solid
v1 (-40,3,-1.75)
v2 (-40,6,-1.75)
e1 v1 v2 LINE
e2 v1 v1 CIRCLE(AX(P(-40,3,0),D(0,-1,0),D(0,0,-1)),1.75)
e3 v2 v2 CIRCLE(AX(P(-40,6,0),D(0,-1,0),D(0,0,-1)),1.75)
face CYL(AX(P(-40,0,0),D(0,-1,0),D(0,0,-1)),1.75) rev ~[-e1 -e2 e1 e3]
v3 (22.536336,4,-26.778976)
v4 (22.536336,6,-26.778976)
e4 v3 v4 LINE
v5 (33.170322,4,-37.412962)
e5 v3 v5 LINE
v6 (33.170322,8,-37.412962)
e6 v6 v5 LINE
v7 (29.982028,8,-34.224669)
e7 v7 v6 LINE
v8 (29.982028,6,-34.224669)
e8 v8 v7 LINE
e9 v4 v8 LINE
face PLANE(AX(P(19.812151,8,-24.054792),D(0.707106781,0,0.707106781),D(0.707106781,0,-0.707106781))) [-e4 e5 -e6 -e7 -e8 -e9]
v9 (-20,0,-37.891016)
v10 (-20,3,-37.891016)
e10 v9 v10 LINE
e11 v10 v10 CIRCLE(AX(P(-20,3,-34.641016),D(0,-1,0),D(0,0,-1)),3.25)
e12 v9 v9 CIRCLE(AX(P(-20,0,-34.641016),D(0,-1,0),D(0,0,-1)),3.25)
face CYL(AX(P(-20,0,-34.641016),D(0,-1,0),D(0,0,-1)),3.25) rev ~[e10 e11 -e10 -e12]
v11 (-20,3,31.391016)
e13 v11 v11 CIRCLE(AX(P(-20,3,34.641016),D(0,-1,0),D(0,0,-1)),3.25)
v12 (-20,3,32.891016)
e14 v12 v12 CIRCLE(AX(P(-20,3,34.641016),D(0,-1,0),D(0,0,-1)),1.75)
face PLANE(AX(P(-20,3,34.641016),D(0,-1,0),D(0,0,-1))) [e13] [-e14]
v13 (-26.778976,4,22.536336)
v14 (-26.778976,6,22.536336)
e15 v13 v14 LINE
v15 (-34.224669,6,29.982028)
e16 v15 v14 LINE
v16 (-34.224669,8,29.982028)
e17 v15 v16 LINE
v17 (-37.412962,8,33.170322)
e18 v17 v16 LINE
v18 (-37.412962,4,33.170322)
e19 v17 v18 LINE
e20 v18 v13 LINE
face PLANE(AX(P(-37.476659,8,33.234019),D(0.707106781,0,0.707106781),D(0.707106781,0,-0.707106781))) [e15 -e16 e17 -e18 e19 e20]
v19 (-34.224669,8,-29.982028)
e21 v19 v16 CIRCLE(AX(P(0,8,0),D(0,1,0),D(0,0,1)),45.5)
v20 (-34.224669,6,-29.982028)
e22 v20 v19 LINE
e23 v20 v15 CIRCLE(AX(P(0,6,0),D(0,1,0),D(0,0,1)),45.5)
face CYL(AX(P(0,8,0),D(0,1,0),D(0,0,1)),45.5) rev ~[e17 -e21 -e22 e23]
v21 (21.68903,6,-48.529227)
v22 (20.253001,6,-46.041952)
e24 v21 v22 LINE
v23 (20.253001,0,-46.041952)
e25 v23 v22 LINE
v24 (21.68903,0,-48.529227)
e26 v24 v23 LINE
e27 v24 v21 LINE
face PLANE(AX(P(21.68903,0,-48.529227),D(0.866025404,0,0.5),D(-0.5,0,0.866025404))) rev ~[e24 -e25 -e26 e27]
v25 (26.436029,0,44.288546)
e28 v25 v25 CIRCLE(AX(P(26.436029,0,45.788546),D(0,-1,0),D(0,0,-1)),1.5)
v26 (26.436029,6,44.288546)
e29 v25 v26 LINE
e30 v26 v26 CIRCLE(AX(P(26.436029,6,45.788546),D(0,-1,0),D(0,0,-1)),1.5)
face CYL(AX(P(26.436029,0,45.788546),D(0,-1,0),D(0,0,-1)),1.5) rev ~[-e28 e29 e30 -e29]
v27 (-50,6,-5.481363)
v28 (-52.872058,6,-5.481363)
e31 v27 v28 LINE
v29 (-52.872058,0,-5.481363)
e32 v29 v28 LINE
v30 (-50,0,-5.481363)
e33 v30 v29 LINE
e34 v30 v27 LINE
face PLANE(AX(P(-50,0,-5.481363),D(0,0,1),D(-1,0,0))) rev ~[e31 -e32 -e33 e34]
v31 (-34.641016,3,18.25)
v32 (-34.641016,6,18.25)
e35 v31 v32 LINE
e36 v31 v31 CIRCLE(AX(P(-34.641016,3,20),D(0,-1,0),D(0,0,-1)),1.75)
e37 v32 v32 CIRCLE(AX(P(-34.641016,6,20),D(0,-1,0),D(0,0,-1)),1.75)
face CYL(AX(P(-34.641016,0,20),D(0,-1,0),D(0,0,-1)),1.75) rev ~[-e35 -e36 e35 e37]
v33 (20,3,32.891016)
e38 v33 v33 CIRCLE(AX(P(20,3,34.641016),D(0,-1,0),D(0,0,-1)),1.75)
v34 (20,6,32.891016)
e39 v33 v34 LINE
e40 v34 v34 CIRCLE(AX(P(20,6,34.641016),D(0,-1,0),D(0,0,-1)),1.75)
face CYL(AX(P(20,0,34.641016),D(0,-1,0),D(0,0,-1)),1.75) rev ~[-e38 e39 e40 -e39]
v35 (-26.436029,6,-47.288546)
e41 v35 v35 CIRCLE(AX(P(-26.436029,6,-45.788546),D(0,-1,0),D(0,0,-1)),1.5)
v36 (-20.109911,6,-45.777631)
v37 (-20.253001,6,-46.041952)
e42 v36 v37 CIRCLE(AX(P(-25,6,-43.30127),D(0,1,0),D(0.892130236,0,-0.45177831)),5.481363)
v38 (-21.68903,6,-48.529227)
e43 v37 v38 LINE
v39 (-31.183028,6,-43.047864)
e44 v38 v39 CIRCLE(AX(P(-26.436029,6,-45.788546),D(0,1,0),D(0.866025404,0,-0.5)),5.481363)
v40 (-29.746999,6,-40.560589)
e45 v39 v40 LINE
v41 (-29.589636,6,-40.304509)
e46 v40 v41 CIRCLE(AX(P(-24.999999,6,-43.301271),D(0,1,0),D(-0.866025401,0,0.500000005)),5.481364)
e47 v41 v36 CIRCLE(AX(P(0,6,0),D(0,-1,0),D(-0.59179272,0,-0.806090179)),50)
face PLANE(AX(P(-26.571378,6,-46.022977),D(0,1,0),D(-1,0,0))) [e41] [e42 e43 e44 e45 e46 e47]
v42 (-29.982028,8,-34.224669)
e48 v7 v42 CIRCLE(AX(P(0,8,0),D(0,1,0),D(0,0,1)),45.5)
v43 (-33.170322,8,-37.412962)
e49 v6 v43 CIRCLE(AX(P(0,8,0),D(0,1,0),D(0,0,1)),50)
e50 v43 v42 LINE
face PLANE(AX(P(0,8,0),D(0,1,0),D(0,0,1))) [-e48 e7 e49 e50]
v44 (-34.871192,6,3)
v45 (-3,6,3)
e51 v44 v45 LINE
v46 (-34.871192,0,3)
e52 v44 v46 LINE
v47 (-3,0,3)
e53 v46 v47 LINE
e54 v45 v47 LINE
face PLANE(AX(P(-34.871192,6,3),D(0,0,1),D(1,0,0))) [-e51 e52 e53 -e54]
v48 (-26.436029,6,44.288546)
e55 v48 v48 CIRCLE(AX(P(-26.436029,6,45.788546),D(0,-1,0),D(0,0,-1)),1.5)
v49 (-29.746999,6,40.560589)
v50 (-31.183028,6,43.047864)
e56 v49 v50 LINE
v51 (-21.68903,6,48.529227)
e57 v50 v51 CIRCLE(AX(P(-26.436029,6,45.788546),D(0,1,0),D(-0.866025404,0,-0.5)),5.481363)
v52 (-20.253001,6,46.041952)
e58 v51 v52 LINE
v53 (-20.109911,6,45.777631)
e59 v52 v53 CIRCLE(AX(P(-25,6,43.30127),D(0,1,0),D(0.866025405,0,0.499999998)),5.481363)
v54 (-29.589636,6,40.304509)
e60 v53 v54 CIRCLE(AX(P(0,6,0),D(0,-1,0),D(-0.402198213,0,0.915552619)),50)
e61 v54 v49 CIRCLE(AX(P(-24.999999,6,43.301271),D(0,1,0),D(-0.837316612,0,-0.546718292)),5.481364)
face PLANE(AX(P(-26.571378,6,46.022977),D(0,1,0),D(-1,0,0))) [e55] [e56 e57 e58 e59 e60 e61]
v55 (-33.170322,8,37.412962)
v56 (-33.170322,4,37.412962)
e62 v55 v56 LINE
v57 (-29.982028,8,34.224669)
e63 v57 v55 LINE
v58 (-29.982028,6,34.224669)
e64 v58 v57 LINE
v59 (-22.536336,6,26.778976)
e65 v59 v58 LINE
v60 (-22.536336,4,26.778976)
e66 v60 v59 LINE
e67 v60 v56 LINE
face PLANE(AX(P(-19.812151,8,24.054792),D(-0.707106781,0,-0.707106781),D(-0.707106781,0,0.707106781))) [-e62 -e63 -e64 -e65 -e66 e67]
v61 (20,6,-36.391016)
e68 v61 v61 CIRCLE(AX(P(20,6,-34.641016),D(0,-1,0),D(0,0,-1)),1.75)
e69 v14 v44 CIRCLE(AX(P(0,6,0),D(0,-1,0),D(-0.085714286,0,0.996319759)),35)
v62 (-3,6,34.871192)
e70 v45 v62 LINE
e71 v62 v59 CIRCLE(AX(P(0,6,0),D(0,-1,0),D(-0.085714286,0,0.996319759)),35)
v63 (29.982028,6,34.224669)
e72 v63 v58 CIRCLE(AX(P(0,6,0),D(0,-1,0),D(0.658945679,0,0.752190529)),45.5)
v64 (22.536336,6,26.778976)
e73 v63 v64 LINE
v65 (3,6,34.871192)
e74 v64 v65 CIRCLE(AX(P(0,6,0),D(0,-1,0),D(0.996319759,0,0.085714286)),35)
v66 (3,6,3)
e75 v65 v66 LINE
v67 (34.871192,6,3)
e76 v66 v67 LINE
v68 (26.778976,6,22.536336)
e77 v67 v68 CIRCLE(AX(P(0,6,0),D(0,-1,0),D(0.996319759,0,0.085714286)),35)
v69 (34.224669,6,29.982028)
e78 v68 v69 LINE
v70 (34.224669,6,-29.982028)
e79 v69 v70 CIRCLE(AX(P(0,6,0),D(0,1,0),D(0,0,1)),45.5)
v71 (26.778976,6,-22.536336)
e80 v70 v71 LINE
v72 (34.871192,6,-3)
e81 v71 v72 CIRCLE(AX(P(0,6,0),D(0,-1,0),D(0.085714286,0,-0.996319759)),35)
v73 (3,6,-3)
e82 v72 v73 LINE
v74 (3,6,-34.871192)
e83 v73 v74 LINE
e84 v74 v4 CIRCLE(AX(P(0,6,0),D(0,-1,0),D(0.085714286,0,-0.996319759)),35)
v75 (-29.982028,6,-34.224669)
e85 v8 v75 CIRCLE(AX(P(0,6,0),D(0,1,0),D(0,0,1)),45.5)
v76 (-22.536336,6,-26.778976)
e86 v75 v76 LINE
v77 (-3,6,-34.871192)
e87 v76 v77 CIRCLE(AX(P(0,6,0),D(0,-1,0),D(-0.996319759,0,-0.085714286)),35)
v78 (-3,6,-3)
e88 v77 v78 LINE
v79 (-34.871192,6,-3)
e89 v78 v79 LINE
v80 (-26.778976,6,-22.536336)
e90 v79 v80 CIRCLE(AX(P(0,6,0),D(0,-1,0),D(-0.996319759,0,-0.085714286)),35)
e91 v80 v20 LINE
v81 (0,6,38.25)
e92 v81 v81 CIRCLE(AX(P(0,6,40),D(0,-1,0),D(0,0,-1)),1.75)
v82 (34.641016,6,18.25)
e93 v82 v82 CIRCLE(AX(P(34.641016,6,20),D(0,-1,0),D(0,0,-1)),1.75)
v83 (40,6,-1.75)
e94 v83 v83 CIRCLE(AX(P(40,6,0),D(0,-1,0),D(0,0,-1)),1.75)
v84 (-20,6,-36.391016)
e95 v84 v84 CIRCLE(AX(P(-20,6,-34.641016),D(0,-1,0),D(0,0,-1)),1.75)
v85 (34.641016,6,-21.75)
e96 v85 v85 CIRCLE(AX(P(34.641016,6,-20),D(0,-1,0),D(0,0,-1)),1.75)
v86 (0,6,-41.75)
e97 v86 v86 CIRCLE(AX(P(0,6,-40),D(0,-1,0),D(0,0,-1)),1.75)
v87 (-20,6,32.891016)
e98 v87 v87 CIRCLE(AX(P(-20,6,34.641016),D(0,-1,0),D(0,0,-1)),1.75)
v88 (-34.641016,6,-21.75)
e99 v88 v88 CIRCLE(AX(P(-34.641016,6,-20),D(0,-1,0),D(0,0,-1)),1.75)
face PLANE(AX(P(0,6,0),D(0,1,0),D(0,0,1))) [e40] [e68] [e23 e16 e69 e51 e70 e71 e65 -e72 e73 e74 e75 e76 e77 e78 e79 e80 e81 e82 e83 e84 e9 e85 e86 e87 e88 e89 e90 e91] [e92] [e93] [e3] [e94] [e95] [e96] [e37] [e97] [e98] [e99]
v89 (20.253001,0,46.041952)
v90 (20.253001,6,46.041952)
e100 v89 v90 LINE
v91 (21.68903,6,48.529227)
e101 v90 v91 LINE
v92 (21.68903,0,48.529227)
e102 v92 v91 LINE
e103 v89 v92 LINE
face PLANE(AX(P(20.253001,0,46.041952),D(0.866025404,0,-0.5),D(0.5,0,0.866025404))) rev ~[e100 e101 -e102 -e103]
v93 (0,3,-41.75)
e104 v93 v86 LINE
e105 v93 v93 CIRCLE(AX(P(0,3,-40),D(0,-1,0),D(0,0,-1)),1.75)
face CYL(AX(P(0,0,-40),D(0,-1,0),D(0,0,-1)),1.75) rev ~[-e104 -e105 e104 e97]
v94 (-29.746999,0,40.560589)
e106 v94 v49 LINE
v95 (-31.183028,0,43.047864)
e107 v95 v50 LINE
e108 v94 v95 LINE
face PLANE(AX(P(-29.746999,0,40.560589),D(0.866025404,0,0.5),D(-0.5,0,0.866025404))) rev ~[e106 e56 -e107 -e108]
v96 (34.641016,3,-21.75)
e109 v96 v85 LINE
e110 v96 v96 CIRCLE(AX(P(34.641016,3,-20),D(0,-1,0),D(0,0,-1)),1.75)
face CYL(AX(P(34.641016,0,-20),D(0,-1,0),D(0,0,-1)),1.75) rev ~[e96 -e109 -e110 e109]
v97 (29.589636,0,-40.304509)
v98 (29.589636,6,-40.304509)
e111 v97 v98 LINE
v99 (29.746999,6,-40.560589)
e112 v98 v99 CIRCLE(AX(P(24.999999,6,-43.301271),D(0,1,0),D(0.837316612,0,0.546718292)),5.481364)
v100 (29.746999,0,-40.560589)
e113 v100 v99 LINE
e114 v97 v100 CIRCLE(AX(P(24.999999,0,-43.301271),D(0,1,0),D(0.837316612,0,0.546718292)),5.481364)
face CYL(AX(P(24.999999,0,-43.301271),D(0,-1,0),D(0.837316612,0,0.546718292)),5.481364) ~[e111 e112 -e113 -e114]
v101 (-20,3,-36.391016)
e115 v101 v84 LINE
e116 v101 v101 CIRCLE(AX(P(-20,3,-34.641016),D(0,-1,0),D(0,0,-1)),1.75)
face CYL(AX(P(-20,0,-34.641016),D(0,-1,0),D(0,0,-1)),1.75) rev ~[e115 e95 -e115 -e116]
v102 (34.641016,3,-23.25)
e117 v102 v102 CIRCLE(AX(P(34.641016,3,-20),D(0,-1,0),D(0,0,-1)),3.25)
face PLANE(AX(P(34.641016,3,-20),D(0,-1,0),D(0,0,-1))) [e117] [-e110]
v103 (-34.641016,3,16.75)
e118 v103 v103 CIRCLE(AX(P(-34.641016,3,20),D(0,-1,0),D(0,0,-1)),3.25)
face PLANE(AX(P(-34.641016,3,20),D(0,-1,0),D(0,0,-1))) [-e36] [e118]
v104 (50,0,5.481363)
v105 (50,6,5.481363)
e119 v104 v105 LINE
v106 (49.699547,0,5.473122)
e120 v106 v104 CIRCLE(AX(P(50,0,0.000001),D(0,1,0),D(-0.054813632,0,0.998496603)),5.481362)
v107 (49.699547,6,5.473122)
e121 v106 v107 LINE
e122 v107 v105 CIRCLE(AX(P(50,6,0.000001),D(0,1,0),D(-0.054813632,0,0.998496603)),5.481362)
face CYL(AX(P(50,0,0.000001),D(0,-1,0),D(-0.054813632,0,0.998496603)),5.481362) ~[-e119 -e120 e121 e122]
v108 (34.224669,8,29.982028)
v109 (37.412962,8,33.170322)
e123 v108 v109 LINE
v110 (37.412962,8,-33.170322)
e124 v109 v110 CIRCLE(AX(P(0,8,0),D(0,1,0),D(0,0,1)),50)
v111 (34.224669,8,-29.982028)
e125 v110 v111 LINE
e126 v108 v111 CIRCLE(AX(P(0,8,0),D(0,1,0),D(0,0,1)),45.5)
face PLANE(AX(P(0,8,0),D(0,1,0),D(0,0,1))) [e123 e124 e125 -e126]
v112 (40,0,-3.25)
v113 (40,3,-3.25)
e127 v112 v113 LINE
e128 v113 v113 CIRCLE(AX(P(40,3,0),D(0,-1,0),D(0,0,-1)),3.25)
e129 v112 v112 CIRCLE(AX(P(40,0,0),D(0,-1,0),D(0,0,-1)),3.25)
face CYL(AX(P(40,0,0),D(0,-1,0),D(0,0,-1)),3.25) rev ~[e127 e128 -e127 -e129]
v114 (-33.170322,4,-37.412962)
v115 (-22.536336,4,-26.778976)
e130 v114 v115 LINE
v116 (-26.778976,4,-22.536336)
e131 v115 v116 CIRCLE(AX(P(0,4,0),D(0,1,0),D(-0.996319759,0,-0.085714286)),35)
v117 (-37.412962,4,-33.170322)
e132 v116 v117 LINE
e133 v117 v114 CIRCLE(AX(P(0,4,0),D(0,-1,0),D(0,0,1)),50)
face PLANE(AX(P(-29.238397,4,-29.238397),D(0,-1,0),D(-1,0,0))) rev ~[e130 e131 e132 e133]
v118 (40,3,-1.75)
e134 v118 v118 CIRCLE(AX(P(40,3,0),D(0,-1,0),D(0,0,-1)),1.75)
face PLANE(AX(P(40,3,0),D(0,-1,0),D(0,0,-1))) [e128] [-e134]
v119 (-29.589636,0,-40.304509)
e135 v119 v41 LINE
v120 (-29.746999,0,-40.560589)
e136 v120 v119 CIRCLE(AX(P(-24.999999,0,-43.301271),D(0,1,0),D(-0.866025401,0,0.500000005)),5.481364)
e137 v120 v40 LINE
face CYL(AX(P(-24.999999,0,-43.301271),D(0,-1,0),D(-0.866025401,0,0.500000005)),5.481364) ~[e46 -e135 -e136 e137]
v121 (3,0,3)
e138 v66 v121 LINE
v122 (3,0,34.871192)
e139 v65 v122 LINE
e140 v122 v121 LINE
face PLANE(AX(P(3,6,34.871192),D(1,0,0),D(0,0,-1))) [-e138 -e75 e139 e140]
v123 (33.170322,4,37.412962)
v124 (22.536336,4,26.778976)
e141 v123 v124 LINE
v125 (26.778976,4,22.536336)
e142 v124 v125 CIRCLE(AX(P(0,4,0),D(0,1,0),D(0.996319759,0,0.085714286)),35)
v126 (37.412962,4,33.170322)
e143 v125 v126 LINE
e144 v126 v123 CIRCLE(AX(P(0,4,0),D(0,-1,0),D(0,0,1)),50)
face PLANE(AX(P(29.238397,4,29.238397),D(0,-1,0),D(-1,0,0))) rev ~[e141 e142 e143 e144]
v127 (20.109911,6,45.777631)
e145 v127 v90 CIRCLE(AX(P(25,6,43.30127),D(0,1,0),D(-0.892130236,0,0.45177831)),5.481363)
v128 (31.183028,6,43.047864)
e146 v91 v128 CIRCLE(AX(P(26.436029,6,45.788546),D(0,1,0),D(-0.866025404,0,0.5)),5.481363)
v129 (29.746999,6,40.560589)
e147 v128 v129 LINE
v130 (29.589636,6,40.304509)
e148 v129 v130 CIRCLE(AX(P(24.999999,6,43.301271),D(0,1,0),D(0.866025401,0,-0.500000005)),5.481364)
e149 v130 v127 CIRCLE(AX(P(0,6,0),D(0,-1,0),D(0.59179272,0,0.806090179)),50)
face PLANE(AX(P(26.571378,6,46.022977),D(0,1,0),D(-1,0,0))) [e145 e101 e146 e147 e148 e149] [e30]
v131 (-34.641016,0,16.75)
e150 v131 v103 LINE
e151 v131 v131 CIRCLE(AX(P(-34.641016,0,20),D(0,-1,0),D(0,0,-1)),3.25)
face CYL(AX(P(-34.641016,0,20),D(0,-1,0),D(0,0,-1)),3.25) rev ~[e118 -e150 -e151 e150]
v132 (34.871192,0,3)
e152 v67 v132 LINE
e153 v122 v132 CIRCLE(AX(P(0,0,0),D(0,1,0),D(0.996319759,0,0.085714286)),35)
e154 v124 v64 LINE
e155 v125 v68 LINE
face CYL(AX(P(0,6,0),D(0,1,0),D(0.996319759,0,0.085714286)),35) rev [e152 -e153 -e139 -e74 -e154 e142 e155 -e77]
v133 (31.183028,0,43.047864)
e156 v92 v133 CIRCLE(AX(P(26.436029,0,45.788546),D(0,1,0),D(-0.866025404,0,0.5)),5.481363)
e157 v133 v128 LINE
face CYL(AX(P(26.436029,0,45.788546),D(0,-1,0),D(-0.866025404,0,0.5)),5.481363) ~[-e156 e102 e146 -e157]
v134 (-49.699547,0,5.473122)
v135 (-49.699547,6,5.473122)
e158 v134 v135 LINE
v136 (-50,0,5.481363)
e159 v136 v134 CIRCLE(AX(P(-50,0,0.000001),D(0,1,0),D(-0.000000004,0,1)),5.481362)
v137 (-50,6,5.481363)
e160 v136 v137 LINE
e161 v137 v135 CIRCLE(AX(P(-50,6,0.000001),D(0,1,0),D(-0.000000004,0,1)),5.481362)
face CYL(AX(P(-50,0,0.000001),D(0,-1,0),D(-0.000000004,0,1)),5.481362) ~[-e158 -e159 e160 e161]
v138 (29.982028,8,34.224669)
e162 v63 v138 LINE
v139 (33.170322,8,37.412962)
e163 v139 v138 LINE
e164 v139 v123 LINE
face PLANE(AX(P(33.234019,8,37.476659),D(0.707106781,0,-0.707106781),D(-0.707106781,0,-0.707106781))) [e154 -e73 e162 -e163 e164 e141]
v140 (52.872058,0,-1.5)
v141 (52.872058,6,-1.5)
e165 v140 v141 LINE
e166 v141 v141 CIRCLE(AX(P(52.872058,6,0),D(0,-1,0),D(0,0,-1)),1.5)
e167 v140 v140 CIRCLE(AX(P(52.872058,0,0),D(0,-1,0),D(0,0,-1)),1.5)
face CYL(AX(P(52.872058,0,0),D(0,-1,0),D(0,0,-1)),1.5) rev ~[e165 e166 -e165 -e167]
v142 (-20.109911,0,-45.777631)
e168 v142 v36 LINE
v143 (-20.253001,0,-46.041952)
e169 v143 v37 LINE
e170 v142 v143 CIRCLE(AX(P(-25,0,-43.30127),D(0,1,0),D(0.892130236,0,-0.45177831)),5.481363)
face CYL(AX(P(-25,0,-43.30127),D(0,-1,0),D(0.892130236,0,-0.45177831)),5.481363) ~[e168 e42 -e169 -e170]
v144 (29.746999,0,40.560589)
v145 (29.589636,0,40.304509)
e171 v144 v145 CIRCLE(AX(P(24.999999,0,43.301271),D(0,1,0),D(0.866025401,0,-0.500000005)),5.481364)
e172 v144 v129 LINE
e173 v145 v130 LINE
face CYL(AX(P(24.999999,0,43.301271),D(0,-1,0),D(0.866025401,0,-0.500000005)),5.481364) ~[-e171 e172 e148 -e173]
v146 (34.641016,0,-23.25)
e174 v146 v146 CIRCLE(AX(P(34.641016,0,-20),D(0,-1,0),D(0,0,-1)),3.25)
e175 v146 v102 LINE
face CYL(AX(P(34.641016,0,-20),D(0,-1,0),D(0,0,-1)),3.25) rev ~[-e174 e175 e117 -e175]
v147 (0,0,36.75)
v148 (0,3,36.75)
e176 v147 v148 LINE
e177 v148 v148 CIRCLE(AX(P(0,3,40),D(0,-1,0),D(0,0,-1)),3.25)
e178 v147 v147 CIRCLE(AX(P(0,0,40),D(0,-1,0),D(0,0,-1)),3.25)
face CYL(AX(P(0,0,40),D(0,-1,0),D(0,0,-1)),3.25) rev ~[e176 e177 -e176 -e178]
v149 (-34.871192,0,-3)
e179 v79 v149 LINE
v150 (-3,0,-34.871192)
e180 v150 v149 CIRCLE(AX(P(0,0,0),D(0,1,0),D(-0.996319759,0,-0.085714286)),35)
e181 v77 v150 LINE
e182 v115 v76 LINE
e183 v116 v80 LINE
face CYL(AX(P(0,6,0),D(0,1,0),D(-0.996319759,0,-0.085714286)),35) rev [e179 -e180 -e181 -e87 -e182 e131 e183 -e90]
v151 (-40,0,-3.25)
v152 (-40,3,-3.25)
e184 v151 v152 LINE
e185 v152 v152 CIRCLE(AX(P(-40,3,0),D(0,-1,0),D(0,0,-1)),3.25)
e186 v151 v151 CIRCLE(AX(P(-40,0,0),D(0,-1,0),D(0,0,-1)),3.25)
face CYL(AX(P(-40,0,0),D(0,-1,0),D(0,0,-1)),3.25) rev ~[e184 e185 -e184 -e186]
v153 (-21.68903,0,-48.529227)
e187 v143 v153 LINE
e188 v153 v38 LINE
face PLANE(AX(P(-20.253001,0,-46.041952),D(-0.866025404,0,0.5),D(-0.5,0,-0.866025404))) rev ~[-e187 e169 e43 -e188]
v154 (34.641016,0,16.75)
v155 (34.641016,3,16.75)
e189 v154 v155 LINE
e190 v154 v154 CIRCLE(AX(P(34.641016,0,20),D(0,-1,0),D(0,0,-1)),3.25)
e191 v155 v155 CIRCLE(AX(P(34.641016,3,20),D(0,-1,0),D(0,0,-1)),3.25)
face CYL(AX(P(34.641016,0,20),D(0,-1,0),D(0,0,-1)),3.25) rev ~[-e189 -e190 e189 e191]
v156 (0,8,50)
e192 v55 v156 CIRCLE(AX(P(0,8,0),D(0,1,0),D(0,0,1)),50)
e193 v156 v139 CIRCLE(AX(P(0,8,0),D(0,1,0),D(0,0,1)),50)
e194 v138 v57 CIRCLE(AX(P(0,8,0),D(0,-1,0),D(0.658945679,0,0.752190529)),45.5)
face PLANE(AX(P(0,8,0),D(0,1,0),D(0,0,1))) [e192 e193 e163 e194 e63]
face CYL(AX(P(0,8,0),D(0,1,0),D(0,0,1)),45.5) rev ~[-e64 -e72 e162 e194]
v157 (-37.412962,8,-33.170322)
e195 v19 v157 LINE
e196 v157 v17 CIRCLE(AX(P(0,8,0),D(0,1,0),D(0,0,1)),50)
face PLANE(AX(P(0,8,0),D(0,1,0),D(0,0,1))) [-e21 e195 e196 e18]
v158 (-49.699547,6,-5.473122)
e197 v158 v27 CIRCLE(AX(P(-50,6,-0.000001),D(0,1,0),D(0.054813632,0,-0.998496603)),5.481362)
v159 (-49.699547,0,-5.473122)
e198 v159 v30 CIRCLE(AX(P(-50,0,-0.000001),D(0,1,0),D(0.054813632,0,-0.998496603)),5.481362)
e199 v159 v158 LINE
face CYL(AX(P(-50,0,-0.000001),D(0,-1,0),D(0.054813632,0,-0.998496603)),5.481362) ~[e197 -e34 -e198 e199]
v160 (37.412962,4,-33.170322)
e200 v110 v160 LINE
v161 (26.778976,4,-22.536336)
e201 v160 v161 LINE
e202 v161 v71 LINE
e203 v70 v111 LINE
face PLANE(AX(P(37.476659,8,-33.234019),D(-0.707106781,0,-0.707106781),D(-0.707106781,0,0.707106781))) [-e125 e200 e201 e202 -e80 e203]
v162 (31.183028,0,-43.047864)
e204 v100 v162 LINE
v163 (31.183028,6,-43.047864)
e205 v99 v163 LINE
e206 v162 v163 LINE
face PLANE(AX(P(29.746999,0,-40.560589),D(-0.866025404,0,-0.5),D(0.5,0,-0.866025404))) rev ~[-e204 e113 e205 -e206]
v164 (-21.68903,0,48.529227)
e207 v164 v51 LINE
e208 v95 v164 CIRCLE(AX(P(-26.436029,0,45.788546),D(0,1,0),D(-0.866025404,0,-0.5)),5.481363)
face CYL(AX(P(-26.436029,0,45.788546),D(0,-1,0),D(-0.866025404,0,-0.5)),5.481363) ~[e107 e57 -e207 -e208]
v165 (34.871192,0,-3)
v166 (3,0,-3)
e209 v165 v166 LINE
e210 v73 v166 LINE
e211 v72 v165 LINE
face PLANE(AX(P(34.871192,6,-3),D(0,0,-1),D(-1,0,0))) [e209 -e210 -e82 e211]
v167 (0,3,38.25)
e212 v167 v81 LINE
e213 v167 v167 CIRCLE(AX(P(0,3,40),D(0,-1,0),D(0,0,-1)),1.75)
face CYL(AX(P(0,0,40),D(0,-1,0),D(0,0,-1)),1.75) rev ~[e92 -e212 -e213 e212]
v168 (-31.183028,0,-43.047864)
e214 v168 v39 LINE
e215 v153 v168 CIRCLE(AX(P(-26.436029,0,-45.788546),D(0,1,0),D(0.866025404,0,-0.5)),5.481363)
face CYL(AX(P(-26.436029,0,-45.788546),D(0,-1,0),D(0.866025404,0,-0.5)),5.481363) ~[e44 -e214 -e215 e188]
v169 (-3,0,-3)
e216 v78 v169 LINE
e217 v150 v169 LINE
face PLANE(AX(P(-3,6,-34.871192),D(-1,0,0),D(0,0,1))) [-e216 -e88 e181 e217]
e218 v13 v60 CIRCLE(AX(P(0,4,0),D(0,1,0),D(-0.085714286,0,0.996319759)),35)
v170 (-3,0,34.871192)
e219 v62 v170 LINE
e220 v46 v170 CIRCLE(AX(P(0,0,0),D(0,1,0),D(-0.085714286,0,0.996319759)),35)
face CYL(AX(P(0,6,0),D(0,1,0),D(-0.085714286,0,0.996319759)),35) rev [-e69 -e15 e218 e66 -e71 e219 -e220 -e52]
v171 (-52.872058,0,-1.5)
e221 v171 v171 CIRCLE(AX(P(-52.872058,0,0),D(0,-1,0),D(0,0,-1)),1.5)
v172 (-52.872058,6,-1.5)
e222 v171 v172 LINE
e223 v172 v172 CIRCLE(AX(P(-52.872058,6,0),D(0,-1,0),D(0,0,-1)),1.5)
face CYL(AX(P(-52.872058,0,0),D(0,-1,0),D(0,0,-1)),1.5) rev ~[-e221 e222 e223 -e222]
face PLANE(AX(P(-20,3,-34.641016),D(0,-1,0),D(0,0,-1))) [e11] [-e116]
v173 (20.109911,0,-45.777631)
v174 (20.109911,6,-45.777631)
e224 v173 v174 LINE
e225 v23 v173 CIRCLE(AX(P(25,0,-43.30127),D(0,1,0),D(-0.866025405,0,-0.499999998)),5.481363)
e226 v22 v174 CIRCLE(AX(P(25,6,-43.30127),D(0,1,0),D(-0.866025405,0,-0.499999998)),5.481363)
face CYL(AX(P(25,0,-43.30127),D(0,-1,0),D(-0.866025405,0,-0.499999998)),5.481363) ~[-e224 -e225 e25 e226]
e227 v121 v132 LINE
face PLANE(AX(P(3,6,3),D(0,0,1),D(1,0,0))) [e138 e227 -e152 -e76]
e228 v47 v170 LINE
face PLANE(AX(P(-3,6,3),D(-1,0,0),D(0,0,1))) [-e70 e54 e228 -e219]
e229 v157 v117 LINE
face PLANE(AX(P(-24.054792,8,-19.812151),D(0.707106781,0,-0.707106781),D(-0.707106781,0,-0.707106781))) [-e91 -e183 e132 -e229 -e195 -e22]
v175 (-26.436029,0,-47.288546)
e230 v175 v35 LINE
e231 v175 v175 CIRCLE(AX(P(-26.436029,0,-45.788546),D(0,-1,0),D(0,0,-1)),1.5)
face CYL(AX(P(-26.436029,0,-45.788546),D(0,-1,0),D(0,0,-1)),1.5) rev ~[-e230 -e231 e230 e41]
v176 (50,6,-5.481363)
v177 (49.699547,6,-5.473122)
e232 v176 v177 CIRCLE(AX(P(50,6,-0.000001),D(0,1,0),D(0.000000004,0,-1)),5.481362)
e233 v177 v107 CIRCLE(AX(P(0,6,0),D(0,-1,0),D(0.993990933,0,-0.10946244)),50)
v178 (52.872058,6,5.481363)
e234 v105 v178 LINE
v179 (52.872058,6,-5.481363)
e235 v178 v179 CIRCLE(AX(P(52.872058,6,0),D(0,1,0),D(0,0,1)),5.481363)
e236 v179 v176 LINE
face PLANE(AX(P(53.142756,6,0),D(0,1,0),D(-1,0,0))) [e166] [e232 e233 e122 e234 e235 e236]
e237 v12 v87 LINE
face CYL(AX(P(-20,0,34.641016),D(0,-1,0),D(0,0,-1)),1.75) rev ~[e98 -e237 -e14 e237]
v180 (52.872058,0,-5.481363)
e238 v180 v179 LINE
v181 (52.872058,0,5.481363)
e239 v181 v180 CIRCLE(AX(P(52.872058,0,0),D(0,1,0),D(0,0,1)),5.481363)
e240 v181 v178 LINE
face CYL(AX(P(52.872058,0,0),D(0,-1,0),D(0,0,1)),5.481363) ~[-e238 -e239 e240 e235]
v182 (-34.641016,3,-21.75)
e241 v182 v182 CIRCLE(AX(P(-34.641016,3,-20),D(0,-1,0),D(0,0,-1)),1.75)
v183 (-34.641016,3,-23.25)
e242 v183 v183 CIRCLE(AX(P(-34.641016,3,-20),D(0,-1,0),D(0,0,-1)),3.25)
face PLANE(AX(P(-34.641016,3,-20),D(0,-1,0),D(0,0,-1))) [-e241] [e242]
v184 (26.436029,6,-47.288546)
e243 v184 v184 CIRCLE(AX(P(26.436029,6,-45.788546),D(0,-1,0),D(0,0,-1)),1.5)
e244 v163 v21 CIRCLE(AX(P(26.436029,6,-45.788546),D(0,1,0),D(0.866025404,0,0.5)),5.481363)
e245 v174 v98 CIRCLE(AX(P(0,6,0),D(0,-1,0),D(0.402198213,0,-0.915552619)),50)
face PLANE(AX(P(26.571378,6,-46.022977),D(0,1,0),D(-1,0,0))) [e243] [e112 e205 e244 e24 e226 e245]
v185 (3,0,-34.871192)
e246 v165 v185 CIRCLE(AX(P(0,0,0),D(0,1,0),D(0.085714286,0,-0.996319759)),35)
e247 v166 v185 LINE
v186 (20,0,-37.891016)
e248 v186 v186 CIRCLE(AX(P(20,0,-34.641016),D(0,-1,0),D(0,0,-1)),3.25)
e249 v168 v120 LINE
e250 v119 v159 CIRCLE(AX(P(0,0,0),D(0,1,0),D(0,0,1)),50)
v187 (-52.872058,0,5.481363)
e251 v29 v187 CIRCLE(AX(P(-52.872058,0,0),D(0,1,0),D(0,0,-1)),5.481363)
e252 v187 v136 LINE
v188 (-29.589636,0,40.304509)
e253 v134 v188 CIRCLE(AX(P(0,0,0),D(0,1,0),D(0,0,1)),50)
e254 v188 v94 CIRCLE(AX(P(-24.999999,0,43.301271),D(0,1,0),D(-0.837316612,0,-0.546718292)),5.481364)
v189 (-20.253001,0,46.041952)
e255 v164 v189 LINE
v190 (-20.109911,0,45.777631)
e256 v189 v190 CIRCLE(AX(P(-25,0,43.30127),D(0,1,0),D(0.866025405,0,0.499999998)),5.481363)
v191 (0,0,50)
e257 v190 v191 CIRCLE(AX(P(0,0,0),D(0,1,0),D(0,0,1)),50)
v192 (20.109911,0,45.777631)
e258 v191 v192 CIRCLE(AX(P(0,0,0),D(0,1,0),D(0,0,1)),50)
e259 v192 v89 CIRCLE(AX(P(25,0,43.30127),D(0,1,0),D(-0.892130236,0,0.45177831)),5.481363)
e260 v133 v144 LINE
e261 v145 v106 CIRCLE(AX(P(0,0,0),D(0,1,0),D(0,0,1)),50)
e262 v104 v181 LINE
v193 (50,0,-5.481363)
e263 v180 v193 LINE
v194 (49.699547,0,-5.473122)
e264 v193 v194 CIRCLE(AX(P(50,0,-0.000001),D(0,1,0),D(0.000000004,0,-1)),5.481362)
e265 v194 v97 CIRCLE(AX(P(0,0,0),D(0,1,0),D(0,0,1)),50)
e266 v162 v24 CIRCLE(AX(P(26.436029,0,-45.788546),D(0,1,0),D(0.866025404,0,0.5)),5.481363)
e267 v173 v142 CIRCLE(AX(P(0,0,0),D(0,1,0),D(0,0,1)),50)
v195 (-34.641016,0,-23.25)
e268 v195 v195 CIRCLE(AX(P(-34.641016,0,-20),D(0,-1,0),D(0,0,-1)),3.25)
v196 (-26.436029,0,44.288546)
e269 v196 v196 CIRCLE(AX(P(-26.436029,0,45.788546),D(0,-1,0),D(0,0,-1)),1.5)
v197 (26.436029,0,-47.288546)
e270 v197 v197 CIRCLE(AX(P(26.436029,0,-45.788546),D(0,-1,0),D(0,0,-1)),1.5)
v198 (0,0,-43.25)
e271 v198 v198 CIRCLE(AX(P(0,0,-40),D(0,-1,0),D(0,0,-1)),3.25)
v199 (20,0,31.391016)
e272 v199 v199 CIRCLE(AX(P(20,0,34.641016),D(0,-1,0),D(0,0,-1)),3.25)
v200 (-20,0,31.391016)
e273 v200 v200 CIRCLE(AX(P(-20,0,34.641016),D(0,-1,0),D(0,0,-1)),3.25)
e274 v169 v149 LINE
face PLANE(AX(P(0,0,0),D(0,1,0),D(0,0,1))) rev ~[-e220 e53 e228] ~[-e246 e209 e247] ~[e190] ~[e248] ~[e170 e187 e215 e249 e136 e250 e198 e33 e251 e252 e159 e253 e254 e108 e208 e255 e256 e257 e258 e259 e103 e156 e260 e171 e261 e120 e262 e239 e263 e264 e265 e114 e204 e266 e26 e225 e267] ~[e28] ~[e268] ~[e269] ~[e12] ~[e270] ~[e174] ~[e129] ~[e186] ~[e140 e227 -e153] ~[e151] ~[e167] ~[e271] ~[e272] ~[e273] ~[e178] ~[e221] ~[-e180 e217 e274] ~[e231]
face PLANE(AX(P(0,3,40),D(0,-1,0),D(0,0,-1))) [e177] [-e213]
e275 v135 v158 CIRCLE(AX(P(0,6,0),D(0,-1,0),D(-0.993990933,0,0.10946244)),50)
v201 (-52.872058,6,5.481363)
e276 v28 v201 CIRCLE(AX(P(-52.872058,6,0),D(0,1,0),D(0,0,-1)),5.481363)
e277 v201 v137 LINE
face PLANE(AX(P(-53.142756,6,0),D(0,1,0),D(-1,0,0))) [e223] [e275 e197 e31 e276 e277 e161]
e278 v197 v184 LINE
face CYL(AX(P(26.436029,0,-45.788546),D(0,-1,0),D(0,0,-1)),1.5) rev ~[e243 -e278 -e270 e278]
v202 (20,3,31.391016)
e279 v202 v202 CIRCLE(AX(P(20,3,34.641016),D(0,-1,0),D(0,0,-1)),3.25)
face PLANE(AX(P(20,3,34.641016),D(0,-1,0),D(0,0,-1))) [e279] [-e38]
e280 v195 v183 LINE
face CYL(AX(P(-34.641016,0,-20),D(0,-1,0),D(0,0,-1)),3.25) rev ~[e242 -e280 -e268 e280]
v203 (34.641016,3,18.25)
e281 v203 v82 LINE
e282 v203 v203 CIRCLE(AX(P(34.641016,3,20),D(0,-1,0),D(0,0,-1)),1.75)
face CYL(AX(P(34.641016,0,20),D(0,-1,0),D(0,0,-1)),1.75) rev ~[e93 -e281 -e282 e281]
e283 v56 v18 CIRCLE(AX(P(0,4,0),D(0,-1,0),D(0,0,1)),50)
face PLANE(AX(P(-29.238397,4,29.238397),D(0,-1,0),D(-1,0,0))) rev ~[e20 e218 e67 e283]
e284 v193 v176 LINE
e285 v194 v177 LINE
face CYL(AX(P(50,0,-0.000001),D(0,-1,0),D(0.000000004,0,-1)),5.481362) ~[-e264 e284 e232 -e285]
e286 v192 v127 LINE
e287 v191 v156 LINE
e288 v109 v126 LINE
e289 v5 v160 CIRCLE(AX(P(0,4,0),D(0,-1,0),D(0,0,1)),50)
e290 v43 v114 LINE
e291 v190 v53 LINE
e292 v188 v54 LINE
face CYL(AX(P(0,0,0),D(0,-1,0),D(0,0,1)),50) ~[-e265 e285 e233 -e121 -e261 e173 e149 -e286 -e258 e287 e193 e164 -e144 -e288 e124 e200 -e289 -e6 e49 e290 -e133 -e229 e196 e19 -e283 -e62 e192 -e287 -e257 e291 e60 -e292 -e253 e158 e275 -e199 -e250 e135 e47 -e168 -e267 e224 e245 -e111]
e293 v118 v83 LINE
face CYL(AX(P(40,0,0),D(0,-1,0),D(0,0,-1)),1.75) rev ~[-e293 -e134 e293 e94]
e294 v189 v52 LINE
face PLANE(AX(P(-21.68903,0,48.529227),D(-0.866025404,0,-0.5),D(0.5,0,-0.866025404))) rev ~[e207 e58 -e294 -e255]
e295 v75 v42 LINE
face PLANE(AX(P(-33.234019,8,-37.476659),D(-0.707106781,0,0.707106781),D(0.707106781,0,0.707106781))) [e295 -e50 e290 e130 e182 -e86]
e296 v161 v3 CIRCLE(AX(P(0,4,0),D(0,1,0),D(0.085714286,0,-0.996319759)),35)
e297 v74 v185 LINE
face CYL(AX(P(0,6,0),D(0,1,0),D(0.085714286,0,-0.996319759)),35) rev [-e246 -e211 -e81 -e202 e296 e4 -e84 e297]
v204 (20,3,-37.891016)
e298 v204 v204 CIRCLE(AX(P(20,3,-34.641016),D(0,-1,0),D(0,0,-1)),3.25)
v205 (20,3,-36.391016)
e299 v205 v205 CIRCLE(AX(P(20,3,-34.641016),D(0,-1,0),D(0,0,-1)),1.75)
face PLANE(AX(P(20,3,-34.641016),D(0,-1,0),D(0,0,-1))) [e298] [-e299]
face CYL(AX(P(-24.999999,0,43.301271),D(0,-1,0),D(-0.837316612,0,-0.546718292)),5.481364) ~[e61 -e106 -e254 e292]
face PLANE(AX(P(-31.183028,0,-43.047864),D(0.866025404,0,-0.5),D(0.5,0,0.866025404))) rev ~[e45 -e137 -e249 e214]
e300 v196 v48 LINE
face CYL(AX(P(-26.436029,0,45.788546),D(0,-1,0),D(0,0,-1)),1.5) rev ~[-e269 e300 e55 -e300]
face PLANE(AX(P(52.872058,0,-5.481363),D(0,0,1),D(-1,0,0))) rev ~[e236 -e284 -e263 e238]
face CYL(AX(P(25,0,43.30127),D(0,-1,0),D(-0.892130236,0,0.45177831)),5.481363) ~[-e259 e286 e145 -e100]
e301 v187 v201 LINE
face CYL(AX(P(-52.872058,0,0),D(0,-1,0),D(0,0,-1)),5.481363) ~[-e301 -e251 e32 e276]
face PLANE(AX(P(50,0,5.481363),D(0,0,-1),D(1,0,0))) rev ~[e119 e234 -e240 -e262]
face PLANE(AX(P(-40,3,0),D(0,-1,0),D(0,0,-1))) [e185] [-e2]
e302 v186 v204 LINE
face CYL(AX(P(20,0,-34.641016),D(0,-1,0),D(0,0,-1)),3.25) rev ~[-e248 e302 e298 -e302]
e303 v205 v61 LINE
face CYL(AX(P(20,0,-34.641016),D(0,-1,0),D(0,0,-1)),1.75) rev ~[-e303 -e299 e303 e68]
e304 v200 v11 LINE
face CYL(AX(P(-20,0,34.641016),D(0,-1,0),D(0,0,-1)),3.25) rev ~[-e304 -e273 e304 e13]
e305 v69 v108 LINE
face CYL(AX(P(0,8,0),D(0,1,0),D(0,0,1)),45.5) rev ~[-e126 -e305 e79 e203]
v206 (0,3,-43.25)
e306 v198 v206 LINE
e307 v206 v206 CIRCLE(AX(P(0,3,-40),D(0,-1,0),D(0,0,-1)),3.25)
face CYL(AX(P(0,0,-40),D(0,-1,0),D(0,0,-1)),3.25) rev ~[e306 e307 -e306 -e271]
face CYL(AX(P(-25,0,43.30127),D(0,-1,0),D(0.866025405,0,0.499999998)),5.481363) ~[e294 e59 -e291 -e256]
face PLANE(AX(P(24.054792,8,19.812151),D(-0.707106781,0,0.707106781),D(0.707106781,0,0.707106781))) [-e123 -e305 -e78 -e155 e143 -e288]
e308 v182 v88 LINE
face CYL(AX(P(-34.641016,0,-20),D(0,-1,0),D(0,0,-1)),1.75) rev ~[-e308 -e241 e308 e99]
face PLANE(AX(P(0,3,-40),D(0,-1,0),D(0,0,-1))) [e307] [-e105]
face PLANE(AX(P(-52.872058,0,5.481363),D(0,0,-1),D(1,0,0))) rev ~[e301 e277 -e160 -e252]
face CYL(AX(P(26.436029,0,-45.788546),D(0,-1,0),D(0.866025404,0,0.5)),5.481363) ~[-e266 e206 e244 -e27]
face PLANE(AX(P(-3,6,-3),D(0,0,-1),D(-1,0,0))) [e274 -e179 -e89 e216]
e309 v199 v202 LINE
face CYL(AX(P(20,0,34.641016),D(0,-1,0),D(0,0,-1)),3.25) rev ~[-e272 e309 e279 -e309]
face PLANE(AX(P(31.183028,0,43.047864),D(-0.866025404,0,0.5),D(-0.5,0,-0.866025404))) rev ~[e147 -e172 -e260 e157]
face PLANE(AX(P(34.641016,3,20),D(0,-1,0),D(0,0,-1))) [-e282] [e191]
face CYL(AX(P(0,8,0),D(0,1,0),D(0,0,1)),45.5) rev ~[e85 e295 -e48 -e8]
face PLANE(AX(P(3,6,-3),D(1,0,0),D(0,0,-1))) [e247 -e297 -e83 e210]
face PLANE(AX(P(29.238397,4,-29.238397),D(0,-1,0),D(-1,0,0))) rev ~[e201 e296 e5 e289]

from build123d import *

# Parameters (mm, degrees)
SKETCH1_R           = 50
BOSS_EXTRUDE1_DEPTH = 8
SKETCH2_R           = 45.5
CUT_EXTRUDE1_DEPTH  = 2
SKETCH3_R           = 1.75
CUT_EXTRUDE2_DEPTH  = 72.161787499
SKETCH4_R           = 3.25
CUT_EXTRUDE3_DEPTH  = 3
BOSS_EXTRUDE2_DEPTH = 6
SKETCH6_R           = 1.5
CUT_EXTRUDE4_DEPTH  = 79.087932515
CUT_EXTRUDE6_DEPTH  = 78.908441164
CUT_EXTRUDE9_DEPTH  = 4


with BuildPart() as part:
    # Sketch1 → Boss-Extrude1 (new body)
    with BuildSketch(Plane(origin=(0, 0, 0), x_dir=(1, 0, 0), z_dir=(0, 1, 0))):
        with Locations(Location((0, 0, 0), (0, 0, 270))):
            Circle(SKETCH1_R)
    extrude(amount=BOSS_EXTRUDE1_DEPTH)

    # Sketch2 → Cut-Extrude1 (cut)
    with BuildSketch(Plane(origin=(0, 8, 0), x_dir=(1, 0, 0), z_dir=(0, 1, 0))):
        with Locations(Location((0, 0, 0), (0, 0, 270))):
            Circle(SKETCH2_R)
    extrude(amount=-CUT_EXTRUDE1_DEPTH, mode=Mode.SUBTRACT)

    # Sketch3 → Cut-Extrude2 (cut, through all)
    with BuildSketch(Plane.XZ):
        with Locations(Location((-40, 0, 0), (0, 0, 270))):
            Circle(SKETCH3_R)
        with Locations(Location((-34.641016151, 20, 0), (0, 0, 270))):
            Circle(SKETCH3_R)
        with Locations(Location((-20, 34.641016151, 0), (0, 0, 270))):
            Circle(SKETCH3_R)
        with Locations(Location((0, 40, 0), (0, 0, 270))):
            Circle(SKETCH3_R)
        with Locations(Location((20, 34.641016151, 0), (0, 0, 270))):
            Circle(SKETCH3_R)
        with Locations(Location((34.641016151, 20, 0), (0, 0, 270))):
            Circle(SKETCH3_R)
        with Locations(Location((40, 0, 0), (0, 0, 270))):
            Circle(SKETCH3_R)
        with Locations(Location((34.641016151, -20, 0), (0, 0, 270))):
            Circle(SKETCH3_R)
        with Locations(Location((20, -34.641016151, 0), (0, 0, 270))):
            Circle(SKETCH3_R)
        with Locations(Location((0, -40, 0), (0, 0, 270))):
            Circle(SKETCH3_R)
        with Locations(Location((-20, -34.641016151, 0), (0, 0, 270))):
            Circle(SKETCH3_R)
        with Locations(Location((-34.641016151, -20, 0), (0, 0, 270))):
            Circle(SKETCH3_R)
    extrude(amount=-CUT_EXTRUDE2_DEPTH, mode=Mode.SUBTRACT)

    # Sketch4 → Cut-Extrude3 (cut)
    with BuildSketch(Plane.XZ):
        with Locations(Location((-40, 0, 0), (0, 0, 270))):
            Circle(SKETCH4_R)
        with Locations(Location((-34.641016151, 20, 0), (0, 0, 270))):
            Circle(SKETCH4_R)
        with Locations(Location((-20, 34.641016151, 0), (0, 0, 270))):
            Circle(SKETCH4_R)
        with Locations(Location((0, 40, 0), (0, 0, 270))):
            Circle(SKETCH4_R)
        with Locations(Location((20, 34.641016151, 0), (0, 0, 270))):
            Circle(SKETCH4_R)
        with Locations(Location((34.641016151, 20, 0), (0, 0, 270))):
            Circle(SKETCH4_R)
        with Locations(Location((40, 0, 0), (0, 0, 270))):
            Circle(SKETCH4_R)
        with Locations(Location((34.641016151, -20, 0), (0, 0, 270))):
            Circle(SKETCH4_R)
        with Locations(Location((20, -34.641016151, 0), (0, 0, 270))):
            Circle(SKETCH4_R)
        with Locations(Location((0, -40, 0), (0, 0, 270))):
            Circle(SKETCH4_R)
        with Locations(Location((-20, -34.641016151, 0), (0, 0, 270))):
            Circle(SKETCH4_R)
        with Locations(Location((-34.641016151, -20, 0), (0, 0, 270))):
            Circle(SKETCH4_R)
    extrude(amount=-CUT_EXTRUDE3_DEPTH, mode=Mode.SUBTRACT)

    # Sketch5 → Boss-Extrude2 (add)
    with BuildSketch(Plane.XZ):
        with BuildLine():
            Line((50, 5.481362668), (52.872058145, 5.481362668))
            ThreePointArc((52.872058145, 5.481362668), (58.353420813, 0), (52.872058145, -5.481362668))
            Line((52.872058145, -5.481362668), (50, -5.481362668))
            ThreePointArc((50, -5.481362668), (49.849716822, -5.479302115), (49.699546633, -5.473122004))
            ThreePointArc((49.699546633, -5.473122004), (50, 0), (49.699546633, 5.473122004))
            ThreePointArc((49.699546633, 5.473122004), (49.849716822, 5.479302115), (50, 5.481362668))
        make_face()
        with BuildLine():
            Line((29.746999318, -40.560588855), (31.18302839, -43.04786417))
            ThreePointArc((31.18302839, -43.04786417), (29.176710406, -50.535544822), (21.689029755, -48.529226838))
            Line((21.689029755, -48.529226838), (20.253000682, -46.041951523))
            ThreePointArc((20.253000682, -46.041951523), (20.179643585, -45.910772197), (20.109910623, -45.777630943))
            ThreePointArc((20.109910623, -45.777630943), (25, -43.301270189), (29.58963601, -40.304508939))
            ThreePointArc((29.58963601, -40.304508939), (29.670073237, -40.431470082), (29.746999318, -40.560588855))
        make_face()
        with BuildLine():
            Line((-20.253000682, -46.041951523), (-21.689029755, -48.529226838))
            ThreePointArc((-21.689029755, -48.529226838), (-29.176710406, -50.535544822), (-31.18302839, -43.04786417))
            Line((-31.18302839, -43.04786417), (-29.746999318, -40.560588855))
            ThreePointArc((-29.746999318, -40.560588855), (-29.670073237, -40.431470082), (-29.58963601, -40.304508939))
            ThreePointArc((-29.58963601, -40.304508939), (-25, -43.301270189), (-20.109910623, -45.777630943))
            ThreePointArc((-20.109910623, -45.777630943), (-20.179643585, -45.910772197), (-20.253000682, -46.041951523))
        make_face()
        with BuildLine():
            Line((-50, -5.481362668), (-52.872058145, -5.481362668))
            ThreePointArc((-52.872058145, -5.481362668), (-58.353420813, 0), (-52.872058145, 5.481362668))
            Line((-52.872058145, 5.481362668), (-50, 5.481362668))
            ThreePointArc((-50, 5.481362668), (-49.849716822, 5.479302115), (-49.699546633, 5.473122004))
            ThreePointArc((-49.699546633, 5.473122004), (-50, 0), (-49.699546633, -5.473122004))
            ThreePointArc((-49.699546633, -5.473122004), (-49.849716822, -5.479302115), (-50, -5.481362668))
        make_face()
        with BuildLine():
            Line((-29.746999318, 40.560588855), (-31.18302839, 43.04786417))
            ThreePointArc((-31.18302839, 43.04786417), (-29.176710406, 50.535544822), (-21.689029755, 48.529226838))
            Line((-21.689029755, 48.529226838), (-20.253000682, 46.041951523))
            ThreePointArc((-20.253000682, 46.041951523), (-20.179643585, 45.910772197), (-20.109910623, 45.777630943))
            ThreePointArc((-20.109910623, 45.777630943), (-25, 43.301270189), (-29.58963601, 40.304508939))
            ThreePointArc((-29.58963601, 40.304508939), (-29.670073237, 40.431470082), (-29.746999318, 40.560588855))
        make_face()
        with BuildLine():
            Line((20.253000682, 46.041951523), (21.689029755, 48.529226838))
            ThreePointArc((21.689029755, 48.529226838), (29.176710406, 50.535544822), (31.18302839, 43.04786417))
            Line((31.18302839, 43.04786417), (29.746999318, 40.560588855))
            ThreePointArc((29.746999318, 40.560588855), (29.670073237, 40.431470082), (29.58963601, 40.304508939))
            ThreePointArc((29.58963601, 40.304508939), (25, 43.301270189), (20.109910623, 45.777630943))
            ThreePointArc((20.109910623, 45.777630943), (20.179643585, 45.910772197), (20.253000682, 46.041951523))
        make_face()
    extrude(amount=-BOSS_EXTRUDE2_DEPTH)

    # Sketch6 → Cut-Extrude4 (cut, through all)
    with BuildSketch(Plane.XZ):
        with Locations(Location((52.872058145, 0, 0), (0, 0, 270))):
            Circle(SKETCH6_R)
        with Locations(Location((26.436029072, -45.788545504, 0), (0, 0, 270))):
            Circle(SKETCH6_R)
        with Locations(Location((-26.436029072, -45.788545504, 0), (0, 0, 270))):
            Circle(SKETCH6_R)
        with Locations(Location((-52.872058145, 0, 0), (0, 0, 270))):
            Circle(SKETCH6_R)
        with Locations(Location((-26.436029072, 45.788545504, 0), (0, 0, 270))):
            Circle(SKETCH6_R)
        with Locations(Location((26.436029072, 45.788545504, 0), (0, 0, 270))):
            Circle(SKETCH6_R)
    extrude(amount=-CUT_EXTRUDE4_DEPTH, mode=Mode.SUBTRACT)

    # Sketch9 → Cut-Extrude6 (cut, through all)
    with BuildSketch(Plane(origin=(0, 6, 0), x_dir=(1, 0, 0), z_dir=(0, 1, 0))):
        with BuildLine():
            Line((-3, -3), (-3, -34.871191548))
            ThreePointArc((-3, -34.871191548), (-24.748737342, -24.748737342), (-34.871191548, -3))
            Line((-34.871191548, -3), (-3, -3))
        make_face()
        with BuildLine():
            Line((-3, 3), (-34.871191548, 3))
            ThreePointArc((-34.871191548, 3), (-24.748737342, 24.748737342), (-3, 34.871191548))
            Line((-3, 34.871191548), (-3, 3))
        make_face()
        with BuildLine():
            Line((3, 3), (3, 34.871191548))
            ThreePointArc((3, 34.871191548), (24.748737342, 24.748737342), (34.871191548, 3))
            Line((34.871191548, 3), (3, 3))
        make_face()
        with BuildLine():
            Line((3, -3), (34.871191548, -3))
            ThreePointArc((34.871191548, -3), (24.748737342, -24.748737342), (3, -34.871191548))
            Line((3, -34.871191548), (3, -3))
        make_face()
    extrude(amount=-CUT_EXTRUDE6_DEPTH, mode=Mode.SUBTRACT)

    # Sketch10 → Cut-Extrude9 (cut)
    with BuildSketch(Plane(origin=(0, 8, 0), x_dir=(1, 0, 0), z_dir=(0, 1, 0))):
        with BuildLine():
            Line((-24.054791846, 19.812151159), (-37.476659403, 33.234018716))
            ThreePointArc((-37.476659403, 33.234018716), (-37.476659403, 37.476659403), (-33.234018716, 37.476659403))
            Line((-33.234018716, 37.476659403), (-19.812151159, 24.054791846))
            ThreePointArc((-19.812151159, 24.054791846), (-22.035815668, 22.035815668), (-24.054791846, 19.812151159))
        make_face()
        with BuildLine():
            Line((19.812151159, 24.054791846), (33.234018716, 37.476659403))
            ThreePointArc((33.234018716, 37.476659403), (37.476659403, 37.476659403), (37.476659403, 33.234018716))
            Line((37.476659403, 33.234018716), (24.054791846, 19.812151159))
            ThreePointArc((24.054791846, 19.812151159), (22.035815668, 22.035815668), (19.812151159, 24.054791846))
        make_face()
        with BuildLine():
            Line((24.054791846, -19.812151159), (37.476659403, -33.234018716))
            ThreePointArc((37.476659403, -33.234018716), (37.476659403, -37.476659403), (33.234018716, -37.476659403))
            Line((33.234018716, -37.476659403), (19.812151159, -24.054791846))
            ThreePointArc((19.812151159, -24.054791846), (22.035815668, -22.035815668), (24.054791846, -19.812151159))
        make_face()
        with BuildLine():
            Line((-19.812151159, -24.054791846), (-33.234018716, -37.476659403))
            ThreePointArc((-33.234018716, -37.476659403), (-37.476659403, -37.476659403), (-37.476659403, -33.234018716))
            Line((-37.476659403, -33.234018716), (-24.054791846, -19.812151159))
            ThreePointArc((-24.054791846, -19.812151159), (-22.035815668, -22.035815668), (-19.812151159, -24.054791846))
        make_face()
    extrude(amount=-CUT_EXTRUDE9_DEPTH, mode=Mode.SUBTRACT)


solid = part.part
